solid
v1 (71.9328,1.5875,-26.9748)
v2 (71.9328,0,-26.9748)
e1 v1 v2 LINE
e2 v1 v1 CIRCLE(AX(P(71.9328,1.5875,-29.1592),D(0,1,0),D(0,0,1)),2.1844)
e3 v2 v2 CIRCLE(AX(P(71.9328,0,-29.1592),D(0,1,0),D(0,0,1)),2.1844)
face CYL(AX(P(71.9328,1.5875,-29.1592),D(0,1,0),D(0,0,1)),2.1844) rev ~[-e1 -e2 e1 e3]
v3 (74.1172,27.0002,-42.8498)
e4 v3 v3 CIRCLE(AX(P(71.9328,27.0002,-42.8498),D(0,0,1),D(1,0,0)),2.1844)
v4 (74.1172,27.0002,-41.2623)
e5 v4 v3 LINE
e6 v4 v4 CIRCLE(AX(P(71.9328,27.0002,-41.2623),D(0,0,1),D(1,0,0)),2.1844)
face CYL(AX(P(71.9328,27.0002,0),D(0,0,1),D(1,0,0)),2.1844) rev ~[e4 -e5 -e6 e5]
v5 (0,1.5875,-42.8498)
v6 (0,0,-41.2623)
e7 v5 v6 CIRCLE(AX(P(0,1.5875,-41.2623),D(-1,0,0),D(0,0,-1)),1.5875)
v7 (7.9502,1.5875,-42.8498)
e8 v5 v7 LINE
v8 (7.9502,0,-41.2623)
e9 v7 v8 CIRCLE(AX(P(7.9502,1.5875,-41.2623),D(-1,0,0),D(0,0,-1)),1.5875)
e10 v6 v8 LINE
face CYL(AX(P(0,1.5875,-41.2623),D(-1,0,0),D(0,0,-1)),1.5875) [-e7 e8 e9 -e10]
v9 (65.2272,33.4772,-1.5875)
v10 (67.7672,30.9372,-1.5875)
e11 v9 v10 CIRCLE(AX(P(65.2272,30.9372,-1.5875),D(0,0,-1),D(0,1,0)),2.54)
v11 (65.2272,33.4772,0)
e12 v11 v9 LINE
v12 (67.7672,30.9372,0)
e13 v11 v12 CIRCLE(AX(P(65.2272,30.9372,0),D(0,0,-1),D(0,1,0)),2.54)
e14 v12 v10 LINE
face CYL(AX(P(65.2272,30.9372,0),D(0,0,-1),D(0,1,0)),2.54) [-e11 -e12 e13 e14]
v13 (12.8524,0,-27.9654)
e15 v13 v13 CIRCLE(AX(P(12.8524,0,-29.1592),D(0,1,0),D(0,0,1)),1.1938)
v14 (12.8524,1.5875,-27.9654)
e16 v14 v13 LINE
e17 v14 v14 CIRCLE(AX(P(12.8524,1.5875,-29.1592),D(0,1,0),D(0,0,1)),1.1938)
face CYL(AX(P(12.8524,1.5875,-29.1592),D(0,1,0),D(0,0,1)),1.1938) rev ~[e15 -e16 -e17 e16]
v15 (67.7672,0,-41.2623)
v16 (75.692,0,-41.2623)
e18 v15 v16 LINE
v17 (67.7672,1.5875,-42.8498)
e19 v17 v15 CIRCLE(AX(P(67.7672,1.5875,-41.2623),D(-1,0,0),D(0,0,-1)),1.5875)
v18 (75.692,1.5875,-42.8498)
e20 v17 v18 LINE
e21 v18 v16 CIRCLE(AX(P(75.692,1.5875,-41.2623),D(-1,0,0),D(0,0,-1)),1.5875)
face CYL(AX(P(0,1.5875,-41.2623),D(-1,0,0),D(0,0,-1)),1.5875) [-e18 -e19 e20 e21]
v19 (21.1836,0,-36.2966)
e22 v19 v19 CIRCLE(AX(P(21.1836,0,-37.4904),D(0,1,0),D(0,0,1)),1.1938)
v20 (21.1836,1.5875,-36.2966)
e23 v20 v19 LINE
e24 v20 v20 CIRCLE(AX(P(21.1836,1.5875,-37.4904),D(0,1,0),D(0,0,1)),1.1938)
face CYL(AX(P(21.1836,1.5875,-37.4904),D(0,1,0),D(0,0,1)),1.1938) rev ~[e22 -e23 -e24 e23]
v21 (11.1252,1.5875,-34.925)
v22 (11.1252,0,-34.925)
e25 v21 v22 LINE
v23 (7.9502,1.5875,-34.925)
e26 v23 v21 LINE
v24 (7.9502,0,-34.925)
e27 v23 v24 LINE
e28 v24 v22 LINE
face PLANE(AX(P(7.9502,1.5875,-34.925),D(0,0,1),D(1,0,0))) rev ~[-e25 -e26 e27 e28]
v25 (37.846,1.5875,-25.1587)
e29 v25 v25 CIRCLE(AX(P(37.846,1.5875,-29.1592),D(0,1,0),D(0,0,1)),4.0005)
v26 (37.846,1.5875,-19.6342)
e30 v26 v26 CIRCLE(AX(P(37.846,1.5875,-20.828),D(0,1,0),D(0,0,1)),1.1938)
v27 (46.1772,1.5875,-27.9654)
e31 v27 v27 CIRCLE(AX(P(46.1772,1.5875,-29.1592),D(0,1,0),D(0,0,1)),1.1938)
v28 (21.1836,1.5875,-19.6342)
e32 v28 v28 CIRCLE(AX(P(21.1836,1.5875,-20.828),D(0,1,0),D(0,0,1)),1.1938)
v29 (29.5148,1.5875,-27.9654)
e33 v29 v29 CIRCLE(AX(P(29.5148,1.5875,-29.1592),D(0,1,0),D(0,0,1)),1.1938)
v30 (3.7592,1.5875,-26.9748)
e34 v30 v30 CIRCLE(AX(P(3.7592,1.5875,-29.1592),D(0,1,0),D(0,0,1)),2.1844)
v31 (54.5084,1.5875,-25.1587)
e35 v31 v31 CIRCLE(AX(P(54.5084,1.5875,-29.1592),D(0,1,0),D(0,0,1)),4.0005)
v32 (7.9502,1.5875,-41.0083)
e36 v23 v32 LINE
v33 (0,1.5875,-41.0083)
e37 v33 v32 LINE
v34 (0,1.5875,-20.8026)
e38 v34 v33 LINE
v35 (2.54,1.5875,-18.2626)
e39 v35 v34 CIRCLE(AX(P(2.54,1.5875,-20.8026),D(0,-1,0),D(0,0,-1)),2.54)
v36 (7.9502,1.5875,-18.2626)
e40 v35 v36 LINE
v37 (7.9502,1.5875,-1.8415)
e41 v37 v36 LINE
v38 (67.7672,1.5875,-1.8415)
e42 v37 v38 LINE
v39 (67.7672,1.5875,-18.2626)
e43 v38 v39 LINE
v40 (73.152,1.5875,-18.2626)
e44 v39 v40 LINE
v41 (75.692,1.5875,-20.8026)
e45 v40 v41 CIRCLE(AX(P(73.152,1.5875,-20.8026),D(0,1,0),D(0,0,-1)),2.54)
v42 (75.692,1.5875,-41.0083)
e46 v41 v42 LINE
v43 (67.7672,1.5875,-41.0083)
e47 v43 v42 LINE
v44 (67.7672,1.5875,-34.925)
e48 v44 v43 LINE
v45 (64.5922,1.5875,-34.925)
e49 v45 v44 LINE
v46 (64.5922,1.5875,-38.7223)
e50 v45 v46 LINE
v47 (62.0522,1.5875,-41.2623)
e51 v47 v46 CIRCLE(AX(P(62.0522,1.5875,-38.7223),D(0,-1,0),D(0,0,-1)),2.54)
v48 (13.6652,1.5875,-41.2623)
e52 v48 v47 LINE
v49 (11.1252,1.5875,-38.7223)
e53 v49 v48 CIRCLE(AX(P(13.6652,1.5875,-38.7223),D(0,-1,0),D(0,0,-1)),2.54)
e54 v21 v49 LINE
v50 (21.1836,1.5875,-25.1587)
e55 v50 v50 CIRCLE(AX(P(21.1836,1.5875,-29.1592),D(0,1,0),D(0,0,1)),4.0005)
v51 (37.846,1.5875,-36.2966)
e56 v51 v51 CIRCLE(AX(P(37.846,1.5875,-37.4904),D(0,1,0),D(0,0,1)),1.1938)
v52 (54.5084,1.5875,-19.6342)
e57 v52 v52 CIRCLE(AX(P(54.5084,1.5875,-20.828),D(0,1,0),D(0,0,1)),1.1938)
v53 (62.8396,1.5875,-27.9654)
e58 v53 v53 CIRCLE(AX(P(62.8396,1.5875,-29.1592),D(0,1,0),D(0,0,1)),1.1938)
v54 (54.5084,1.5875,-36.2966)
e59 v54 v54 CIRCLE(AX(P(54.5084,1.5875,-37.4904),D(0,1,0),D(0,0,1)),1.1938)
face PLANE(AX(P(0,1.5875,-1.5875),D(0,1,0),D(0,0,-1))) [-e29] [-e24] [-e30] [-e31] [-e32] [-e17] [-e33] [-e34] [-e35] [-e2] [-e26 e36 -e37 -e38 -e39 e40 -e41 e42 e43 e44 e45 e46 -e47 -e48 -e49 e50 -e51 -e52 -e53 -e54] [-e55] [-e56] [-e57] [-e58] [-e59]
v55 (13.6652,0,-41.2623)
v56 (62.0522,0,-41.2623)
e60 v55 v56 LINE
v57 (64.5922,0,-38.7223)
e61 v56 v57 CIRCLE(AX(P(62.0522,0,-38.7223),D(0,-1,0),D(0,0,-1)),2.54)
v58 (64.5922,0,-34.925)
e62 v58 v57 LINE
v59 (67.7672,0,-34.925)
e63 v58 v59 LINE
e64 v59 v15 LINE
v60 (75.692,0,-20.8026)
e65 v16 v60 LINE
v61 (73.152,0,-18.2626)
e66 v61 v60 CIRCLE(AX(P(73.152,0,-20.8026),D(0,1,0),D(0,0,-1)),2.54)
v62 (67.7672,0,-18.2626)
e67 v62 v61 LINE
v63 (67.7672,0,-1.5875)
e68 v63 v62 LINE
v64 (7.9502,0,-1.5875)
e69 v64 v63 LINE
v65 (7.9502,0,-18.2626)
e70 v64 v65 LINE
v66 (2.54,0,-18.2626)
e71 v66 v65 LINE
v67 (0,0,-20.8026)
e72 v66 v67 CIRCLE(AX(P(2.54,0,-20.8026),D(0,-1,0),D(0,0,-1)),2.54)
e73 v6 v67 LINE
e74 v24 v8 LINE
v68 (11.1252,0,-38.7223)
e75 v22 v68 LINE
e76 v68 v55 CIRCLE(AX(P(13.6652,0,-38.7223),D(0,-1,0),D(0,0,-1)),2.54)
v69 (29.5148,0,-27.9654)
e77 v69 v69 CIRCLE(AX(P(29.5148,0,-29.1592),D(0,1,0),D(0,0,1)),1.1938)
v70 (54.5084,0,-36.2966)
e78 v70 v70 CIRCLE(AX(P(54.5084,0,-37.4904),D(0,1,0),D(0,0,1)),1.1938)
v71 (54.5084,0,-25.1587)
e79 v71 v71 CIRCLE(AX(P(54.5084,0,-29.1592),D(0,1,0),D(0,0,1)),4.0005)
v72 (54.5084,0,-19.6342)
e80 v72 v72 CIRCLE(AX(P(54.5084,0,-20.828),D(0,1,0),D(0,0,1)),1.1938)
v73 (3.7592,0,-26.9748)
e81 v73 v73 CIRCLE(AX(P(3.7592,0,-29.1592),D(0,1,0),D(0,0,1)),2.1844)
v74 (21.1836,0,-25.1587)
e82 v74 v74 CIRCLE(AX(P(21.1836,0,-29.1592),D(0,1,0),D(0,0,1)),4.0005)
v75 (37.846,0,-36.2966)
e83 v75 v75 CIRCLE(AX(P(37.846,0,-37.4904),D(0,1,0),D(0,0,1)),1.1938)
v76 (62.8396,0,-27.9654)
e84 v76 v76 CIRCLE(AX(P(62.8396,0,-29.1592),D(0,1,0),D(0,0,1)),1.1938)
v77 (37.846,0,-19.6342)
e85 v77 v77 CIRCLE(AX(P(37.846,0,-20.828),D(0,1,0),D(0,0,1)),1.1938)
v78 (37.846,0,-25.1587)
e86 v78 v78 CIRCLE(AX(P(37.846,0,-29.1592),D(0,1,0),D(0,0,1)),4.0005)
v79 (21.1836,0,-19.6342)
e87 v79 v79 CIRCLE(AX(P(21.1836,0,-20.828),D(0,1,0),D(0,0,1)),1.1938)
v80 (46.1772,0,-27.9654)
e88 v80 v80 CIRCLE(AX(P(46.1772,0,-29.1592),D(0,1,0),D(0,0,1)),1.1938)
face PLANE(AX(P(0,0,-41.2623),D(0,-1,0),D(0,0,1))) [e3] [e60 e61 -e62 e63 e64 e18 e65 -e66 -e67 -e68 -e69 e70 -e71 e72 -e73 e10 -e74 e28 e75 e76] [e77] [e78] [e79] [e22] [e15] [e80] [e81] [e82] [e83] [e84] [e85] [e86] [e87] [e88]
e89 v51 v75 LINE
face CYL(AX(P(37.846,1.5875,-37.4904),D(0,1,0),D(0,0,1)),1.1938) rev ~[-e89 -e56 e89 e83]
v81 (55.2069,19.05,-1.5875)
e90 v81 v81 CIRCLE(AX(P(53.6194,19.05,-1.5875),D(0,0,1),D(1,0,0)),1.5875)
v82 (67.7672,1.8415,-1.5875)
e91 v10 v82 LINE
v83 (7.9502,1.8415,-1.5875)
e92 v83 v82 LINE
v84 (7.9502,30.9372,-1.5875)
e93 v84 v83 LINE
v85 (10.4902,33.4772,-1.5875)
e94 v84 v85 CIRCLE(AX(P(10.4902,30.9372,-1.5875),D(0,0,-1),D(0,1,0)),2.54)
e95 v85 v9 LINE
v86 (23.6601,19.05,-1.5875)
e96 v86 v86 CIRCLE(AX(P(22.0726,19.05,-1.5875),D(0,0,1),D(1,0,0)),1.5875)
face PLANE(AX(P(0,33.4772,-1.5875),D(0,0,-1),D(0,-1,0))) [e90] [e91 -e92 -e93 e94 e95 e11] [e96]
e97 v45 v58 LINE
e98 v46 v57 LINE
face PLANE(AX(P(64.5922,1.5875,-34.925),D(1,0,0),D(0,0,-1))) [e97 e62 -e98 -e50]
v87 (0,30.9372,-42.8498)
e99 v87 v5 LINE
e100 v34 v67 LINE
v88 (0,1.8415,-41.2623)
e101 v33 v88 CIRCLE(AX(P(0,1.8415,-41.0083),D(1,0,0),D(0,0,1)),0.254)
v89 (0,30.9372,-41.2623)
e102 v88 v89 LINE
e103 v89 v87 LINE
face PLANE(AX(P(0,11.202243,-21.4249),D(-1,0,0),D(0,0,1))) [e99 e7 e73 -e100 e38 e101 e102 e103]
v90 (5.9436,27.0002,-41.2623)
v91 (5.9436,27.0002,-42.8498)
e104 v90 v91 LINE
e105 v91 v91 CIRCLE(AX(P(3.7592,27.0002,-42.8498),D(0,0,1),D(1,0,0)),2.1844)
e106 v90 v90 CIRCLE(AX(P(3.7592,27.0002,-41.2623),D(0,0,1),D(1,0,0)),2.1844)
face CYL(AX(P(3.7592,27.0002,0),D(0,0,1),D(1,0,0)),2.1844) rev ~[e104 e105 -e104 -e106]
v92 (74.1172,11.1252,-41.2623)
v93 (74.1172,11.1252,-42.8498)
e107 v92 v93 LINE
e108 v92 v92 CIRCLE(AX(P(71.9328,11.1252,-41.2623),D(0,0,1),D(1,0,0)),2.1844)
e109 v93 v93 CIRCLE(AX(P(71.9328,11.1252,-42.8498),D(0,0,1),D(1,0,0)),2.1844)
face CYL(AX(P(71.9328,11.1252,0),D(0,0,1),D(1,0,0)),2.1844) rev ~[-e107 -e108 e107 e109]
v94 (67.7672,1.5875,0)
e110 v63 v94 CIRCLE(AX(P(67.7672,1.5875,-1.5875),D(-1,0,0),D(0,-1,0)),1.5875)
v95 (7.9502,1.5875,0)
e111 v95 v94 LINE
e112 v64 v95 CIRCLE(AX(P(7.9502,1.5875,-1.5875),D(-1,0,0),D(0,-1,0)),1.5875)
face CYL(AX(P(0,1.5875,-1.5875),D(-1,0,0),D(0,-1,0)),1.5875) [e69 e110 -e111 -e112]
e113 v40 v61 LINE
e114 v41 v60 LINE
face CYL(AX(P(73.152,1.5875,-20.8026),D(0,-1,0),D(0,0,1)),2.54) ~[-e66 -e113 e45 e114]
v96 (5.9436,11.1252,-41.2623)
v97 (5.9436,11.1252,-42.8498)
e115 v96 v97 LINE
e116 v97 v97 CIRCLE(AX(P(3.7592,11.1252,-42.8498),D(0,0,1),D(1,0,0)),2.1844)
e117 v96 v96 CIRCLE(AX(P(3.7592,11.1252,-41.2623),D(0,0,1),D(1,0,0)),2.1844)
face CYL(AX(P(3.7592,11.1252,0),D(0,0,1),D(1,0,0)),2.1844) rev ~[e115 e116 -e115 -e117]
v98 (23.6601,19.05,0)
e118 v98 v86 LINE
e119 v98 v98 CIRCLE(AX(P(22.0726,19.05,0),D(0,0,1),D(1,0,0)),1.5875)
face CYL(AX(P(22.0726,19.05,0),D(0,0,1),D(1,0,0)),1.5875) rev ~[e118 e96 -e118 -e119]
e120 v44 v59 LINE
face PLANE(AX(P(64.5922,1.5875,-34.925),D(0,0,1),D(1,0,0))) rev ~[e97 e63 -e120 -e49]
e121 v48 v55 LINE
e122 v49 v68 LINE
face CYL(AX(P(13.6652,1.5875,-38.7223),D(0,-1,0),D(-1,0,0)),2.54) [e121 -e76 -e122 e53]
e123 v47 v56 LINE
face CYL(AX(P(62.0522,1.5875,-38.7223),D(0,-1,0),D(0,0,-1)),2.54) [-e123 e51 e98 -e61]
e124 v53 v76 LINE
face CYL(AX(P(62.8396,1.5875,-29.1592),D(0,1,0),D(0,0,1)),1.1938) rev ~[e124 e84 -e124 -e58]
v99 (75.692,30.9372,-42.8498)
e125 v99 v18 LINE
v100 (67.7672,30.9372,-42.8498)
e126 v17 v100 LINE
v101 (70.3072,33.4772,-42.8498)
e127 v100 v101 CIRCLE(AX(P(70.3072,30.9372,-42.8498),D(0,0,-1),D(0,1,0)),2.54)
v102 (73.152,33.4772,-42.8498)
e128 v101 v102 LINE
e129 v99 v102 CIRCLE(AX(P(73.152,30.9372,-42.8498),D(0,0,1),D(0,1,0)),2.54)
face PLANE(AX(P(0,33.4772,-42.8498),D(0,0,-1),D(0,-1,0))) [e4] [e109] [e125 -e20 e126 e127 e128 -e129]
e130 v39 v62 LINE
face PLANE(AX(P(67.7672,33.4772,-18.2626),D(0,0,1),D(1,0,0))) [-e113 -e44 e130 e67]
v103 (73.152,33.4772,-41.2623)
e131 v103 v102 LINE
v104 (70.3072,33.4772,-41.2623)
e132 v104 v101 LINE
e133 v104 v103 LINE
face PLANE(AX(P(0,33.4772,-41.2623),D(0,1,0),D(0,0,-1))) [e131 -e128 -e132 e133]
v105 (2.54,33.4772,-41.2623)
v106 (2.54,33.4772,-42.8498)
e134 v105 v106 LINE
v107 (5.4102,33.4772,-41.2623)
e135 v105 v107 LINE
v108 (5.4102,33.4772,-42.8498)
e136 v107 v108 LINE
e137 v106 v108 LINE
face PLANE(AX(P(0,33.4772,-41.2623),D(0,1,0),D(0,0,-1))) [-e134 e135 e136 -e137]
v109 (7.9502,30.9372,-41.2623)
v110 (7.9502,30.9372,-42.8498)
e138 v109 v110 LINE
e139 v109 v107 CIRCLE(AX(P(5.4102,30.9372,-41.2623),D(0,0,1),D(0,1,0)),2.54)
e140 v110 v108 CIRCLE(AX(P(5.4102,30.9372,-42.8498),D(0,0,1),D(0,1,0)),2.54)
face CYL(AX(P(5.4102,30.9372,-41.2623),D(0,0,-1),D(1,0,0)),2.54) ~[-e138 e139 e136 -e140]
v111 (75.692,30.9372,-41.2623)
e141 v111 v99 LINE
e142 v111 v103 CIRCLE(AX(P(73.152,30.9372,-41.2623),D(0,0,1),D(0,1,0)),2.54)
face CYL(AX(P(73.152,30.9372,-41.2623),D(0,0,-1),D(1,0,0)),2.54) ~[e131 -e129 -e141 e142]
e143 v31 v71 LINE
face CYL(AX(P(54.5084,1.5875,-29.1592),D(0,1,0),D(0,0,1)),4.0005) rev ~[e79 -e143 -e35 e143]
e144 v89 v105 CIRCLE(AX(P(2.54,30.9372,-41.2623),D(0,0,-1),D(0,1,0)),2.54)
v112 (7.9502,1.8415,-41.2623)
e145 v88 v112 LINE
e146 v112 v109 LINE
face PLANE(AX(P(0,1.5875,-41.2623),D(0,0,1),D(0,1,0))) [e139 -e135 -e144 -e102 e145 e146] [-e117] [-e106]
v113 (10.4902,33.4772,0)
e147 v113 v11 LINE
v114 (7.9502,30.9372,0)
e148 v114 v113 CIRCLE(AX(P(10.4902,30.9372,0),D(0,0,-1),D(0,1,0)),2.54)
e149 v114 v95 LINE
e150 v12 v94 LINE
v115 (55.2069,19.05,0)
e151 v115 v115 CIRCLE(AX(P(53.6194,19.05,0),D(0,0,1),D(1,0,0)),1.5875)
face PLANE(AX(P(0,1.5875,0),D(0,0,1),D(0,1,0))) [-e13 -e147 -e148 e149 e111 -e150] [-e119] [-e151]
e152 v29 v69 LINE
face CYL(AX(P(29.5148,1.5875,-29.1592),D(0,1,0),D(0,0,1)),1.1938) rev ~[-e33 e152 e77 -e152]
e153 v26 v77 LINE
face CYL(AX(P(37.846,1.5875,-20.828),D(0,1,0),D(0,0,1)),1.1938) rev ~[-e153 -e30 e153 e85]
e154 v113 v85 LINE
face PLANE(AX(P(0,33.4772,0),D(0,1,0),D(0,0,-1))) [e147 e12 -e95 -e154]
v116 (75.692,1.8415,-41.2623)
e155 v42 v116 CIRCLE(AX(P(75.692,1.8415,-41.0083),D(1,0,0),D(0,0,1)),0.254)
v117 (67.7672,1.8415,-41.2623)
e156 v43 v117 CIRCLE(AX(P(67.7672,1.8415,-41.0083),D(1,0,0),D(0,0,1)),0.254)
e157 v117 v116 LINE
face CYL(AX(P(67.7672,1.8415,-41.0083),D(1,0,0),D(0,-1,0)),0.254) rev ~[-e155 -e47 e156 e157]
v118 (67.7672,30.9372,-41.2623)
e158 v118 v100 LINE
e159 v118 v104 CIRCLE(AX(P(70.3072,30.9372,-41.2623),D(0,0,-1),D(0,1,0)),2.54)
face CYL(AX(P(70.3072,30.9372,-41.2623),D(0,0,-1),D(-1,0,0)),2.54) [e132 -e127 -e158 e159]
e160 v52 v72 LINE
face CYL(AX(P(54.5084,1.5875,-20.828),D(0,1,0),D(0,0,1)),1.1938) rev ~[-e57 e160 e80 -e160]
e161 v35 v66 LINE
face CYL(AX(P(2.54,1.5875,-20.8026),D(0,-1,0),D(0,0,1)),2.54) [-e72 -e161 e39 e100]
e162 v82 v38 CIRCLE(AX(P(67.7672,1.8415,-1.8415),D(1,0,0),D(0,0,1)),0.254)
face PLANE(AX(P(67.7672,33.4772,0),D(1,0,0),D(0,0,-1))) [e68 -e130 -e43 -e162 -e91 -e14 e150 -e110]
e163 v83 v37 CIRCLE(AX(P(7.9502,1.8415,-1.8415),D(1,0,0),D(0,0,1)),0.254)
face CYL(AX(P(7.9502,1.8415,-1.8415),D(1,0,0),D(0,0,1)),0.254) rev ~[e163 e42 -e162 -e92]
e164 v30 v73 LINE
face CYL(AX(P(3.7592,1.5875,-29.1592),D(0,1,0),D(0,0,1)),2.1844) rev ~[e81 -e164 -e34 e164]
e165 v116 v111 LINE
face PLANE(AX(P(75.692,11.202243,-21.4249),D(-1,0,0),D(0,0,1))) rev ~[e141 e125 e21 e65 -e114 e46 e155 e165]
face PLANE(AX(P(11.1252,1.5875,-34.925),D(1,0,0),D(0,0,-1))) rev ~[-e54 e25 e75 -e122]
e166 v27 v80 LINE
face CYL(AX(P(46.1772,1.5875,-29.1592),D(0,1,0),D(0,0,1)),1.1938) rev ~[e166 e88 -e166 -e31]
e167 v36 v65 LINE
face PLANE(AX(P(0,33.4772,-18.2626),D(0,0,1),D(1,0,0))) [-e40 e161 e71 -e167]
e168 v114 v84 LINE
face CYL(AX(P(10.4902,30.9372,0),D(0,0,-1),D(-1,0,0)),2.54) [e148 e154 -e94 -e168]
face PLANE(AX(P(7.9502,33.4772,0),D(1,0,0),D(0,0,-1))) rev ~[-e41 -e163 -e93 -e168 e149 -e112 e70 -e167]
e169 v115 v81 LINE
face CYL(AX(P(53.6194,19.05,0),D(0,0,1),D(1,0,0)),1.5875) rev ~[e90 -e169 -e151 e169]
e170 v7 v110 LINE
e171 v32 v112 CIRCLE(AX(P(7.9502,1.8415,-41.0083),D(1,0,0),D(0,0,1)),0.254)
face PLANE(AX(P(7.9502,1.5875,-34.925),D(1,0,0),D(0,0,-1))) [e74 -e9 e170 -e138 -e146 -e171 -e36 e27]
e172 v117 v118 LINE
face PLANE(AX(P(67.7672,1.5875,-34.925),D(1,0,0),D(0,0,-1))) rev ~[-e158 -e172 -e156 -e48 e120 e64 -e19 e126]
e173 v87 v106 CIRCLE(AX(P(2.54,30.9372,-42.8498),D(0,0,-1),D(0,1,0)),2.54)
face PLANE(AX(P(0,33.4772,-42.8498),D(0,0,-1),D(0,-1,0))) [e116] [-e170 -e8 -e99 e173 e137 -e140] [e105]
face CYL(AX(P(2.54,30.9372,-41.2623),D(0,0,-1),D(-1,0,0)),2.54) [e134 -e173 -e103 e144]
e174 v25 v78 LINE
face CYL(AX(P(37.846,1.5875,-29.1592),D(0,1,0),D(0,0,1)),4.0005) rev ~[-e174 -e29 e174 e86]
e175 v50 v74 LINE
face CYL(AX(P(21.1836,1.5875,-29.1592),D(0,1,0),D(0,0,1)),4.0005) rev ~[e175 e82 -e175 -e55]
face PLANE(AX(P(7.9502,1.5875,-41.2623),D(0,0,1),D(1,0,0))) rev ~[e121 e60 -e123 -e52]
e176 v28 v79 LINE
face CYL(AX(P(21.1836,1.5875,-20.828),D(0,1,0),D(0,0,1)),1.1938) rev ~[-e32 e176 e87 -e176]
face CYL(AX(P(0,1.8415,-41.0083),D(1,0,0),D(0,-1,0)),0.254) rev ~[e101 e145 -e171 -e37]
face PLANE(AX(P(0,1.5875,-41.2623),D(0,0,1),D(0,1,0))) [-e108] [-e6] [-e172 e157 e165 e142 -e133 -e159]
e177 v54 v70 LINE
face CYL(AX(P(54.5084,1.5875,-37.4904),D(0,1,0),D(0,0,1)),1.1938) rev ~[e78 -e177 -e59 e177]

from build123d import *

# Parameters (mm, degrees)
EXTRUDE1_DEPTH             = 75.692
SKETCH2_W                  = 7.9502
SKETCH2_H                  = 18.2626
SKETCH2_W_2                = 7.9248
EXTRUDE2_DEPTH             = 33.4772
EXTRUDE3_REACH             = 33.89
SKETCH3_W                  = 59.817
SKETCH3_H                  = 1.5875
EXTRUDE3_DIRECTION_2_REACH = 3.588
SKETCH4_W                  = 3.175
SKETCH4_H                  = 6.3373
EXTRUDE4_DEPTH             = 1.5875
SKETCH5_R                  = 4.0005
SKETCH5_R_2                = 1.1938
SKETCH5_R_3                = 2.1844
EXTRUDE5_DEPTH             = 1.5875
SKETCH6_R                  = 2.1844
SKETCH6_R_2                = 1.5875
EXTRUDE6_DEPTH             = 43.8498
FILLET1_R                  = 2.54
FILLET2_R                  = 0.254
FILLET3_R                  = 2.54
FILLET4_R                  = 2.54


with BuildPart() as part:
    # Sketch1 → Extrude1 (new body)
    with BuildSketch(Plane(origin=(0, 0, 0), x_dir=(0, 0, -1), z_dir=(1, 0, 0))):
        with BuildLine():
            Line((1.5875, 33.4772), (1.5875, 1.5875))
            Line((1.5875, 1.5875), (41.2623, 1.5875))
            Line((41.2623, 1.5875), (41.2623, 33.4772))
            Line((41.2623, 33.4772), (42.8498, 33.4772))
            Line((42.8498, 33.4772), (42.8498, 1.5875))
            ThreePointArc((42.8498, 1.5875), (42.384832015, 0.464967985), (41.2623, 0))
            Line((41.2623, 0), (1.5875, 0))
            ThreePointArc((1.5875, 0), (0.464967985, 0.464967985), (0, 1.5875))
            Line((0, 1.5875), (0, 33.4772))
            Line((0, 33.4772), (1.5875, 33.4772))
        make_face()
    extrude(amount=EXTRUDE1_DEPTH)

    # Sketch2 → Extrude2 (cut)
    with BuildSketch(Plane(origin=(0, 33.4772, 0), x_dir=(1, 0, 0), z_dir=(0, 1, 0))):
        with Locations((3.9751, 9.1313)):
            Rectangle(SKETCH2_W, SKETCH2_H)
        with Locations((71.7296, 9.1313)):
            Rectangle(SKETCH2_W_2, SKETCH2_H)
    extrude(amount=-EXTRUDE2_DEPTH, mode=Mode.SUBTRACT)

    # Extrude3: up to this face of the body (flat: up to its plane)
    extrude3_end = Plane(part.part.faces().sort_by_distance((37.846, 33.4772, -42.05605))[0])
    # Sketch3 → Extrude3 (cut, up to the picked face)
    with BuildSketch(Plane(origin=(0, 1.5875, 0), x_dir=(1, 0, 0), z_dir=(0, 1, 0)), mode=Mode.PRIVATE) as extrude3_sk1:
        with Locations((37.8587, 42.05605)):
            Rectangle(SKETCH3_W, SKETCH3_H)
    extrude3_tool1 = split(extrude(extrude3_sk1.sketch, amount=EXTRUDE3_REACH, mode=Mode.PRIVATE), bisect_by=extrude3_end, keep=Keep.BOTH, mode=Mode.PRIVATE)
    add(extrude3_tool1.solids().sort_by(Axis((37.8587, 1.5875, -42.05605), (0, 1, 0)))[0], mode=Mode.SUBTRACT)

    # Extrude3 direction 2: up to this face of the body (flat: up to its plane)
    extrude3_direction_2_end = Plane(part.part.faces().sort_by_distance((37.850626027, 0, -22.536595268))[0])
    # Sketch3 → Extrude3 direction 2 (cut, up to the picked face)
    with BuildSketch(Plane(origin=(0, 1.5875, 0), x_dir=(1, 0, 0), z_dir=(0, 1, 0)), mode=Mode.PRIVATE) as extrude3_direction_2_sk1:
        with Locations((37.8587, 42.05605)):
            Rectangle(SKETCH3_W, SKETCH3_H)
    extrude3_direction_2_tool1 = split(extrude(extrude3_direction_2_sk1.sketch, amount=-EXTRUDE3_DIRECTION_2_REACH, mode=Mode.PRIVATE), bisect_by=extrude3_direction_2_end, keep=Keep.BOTH, mode=Mode.PRIVATE)
    add(extrude3_direction_2_tool1.solids().sort_by(Axis((37.8587, 1.5875, -42.05605), (0, -1, 0)))[0], mode=Mode.SUBTRACT)

    # Sketch4 → Extrude4 (cut)
    with BuildSketch(Plane(origin=(0, 1.5875, 0), x_dir=(1, 0, 0), z_dir=(0, 1, 0))):
        with Locations((9.5377, 38.09365)):
            Rectangle(SKETCH4_W, SKETCH4_H)
        with Locations((66.1797, 38.09365)):
            Rectangle(SKETCH4_W, SKETCH4_H)
    extrude(amount=-EXTRUDE4_DEPTH, mode=Mode.SUBTRACT)

    # Sketch5 → Extrude5 (cut)
    with BuildSketch(Plane(origin=(0, 1.5875, 0), x_dir=(1, 0, 0), z_dir=(0, 1, 0))):
        with Locations(Location((21.1836, 29.1592, 0), (0, 0, 270))):  # turned: the seam where the file's is
            Circle(SKETCH5_R)
        with Locations(Location((21.1836, 37.4904, 0), (0, 0, 270))):  # turned: the seam where the file's is
            Circle(SKETCH5_R_2)
        with Locations(Location((12.8524, 29.1592, 0), (0, 0, 270))):  # turned: the seam where the file's is
            Circle(SKETCH5_R_2)
        with Locations(Location((21.1836, 20.828, 0), (0, 0, 270))):  # turned: the seam where the file's is
            Circle(SKETCH5_R_2)
        with Locations(Location((37.846, 37.4904, 0), (0, 0, 270))):  # turned: the seam where the file's is
            Circle(SKETCH5_R_2)
        with Locations(Location((29.5148, 29.1592, 0), (0, 0, 270))):  # turned: the seam where the file's is
            Circle(SKETCH5_R_2)
        with Locations(Location((37.846, 20.828, 0), (0, 0, 270))):  # turned: the seam where the file's is
            Circle(SKETCH5_R_2)
        with Locations(Location((37.846, 29.1592, 0), (0, 0, 270))):  # turned: the seam where the file's is
            Circle(SKETCH5_R)
        with Locations(Location((54.5084, 20.828, 0), (0, 0, 270))):  # turned: the seam where the file's is
            Circle(SKETCH5_R_2)
        with Locations(Location((54.5084, 29.1592, 0), (0, 0, 270))):  # turned: the seam where the file's is
            Circle(SKETCH5_R)
        with Locations(Location((46.1772, 29.1592, 0), (0, 0, 270))):  # turned: the seam where the file's is
            Circle(SKETCH5_R_2)
        with Locations(Location((54.5084, 37.4904, 0), (0, 0, 270))):  # turned: the seam where the file's is
            Circle(SKETCH5_R_2)
        with Locations(Location((62.8396, 29.1592, 0), (0, 0, 270))):  # turned: the seam where the file's is
            Circle(SKETCH5_R_2)
        with Locations(Location((3.7592, 29.1592, 0), (0, 0, 270))):  # turned: the seam where the file's is
            Circle(SKETCH5_R_3)
        with Locations(Location((71.9328, 29.1592, 0), (0, 0, 270))):  # turned: the seam where the file's is
            Circle(SKETCH5_R_3)
    extrude(amount=-EXTRUDE5_DEPTH, mode=Mode.SUBTRACT)

    # Sketch6 → Extrude6 (cut, through all)
    with BuildSketch(Plane.XY):
        with Locations((3.7592, 27.0002)):
            Circle(SKETCH6_R)
        with Locations((3.7592, 11.1252)):
            Circle(SKETCH6_R)
        with Locations((71.9328, 27.0002)):
            Circle(SKETCH6_R)
        with Locations((71.9328, 11.1252)):
            Circle(SKETCH6_R)
        with Locations((22.0726, 19.05)):
            Circle(SKETCH6_R_2)
        with Locations((53.6194, 19.05)):
            Circle(SKETCH6_R_2)
    extrude(amount=-EXTRUDE6_DEPTH, mode=Mode.SUBTRACT)

    # Fillet1
    fillet1_edges = [part.edges().sort_by_distance(p)[0] for p in [
        (64.5922, 0.79375, -41.2623),
        (0, 33.4772, -42.05605),
        (7.9502, 33.4772, -0.79375),
        (75.692, 33.4772, -42.05605),
        (75.692, 0.79375, -18.2626),
        (67.7672, 33.4772, -0.79375),
        (11.1252, 0.79375, -41.2623),
    ]]
    fillet(fillet1_edges, radius=FILLET1_R)

    # Fillet2
    fillet2_edges = [part.edges().sort_by_distance(p)[0] for p in [
        (71.7296, 1.5875, -41.2623),
        (37.8587, 1.5875, -1.5875),
        (3.9751, 1.5875, -41.2623),
    ]]
    fillet(fillet2_edges, radius=FILLET2_R)

    # Fillet3
    fillet3_edges = [part.edges().sort_by_distance(p)[0] for p in [
        (0, 0.79375, -18.2626),
    ]]
    fillet(fillet3_edges, radius=FILLET3_R)

    # Fillet4
    fillet4_edges = [part.edges().sort_by_distance(p)[0] for p in [
        (67.7672, 33.4772, -42.05605),
        (7.9502, 33.4772, -42.05605),
    ]]
    fillet(fillet4_edges, radius=FILLET4_R)


solid = part.part
